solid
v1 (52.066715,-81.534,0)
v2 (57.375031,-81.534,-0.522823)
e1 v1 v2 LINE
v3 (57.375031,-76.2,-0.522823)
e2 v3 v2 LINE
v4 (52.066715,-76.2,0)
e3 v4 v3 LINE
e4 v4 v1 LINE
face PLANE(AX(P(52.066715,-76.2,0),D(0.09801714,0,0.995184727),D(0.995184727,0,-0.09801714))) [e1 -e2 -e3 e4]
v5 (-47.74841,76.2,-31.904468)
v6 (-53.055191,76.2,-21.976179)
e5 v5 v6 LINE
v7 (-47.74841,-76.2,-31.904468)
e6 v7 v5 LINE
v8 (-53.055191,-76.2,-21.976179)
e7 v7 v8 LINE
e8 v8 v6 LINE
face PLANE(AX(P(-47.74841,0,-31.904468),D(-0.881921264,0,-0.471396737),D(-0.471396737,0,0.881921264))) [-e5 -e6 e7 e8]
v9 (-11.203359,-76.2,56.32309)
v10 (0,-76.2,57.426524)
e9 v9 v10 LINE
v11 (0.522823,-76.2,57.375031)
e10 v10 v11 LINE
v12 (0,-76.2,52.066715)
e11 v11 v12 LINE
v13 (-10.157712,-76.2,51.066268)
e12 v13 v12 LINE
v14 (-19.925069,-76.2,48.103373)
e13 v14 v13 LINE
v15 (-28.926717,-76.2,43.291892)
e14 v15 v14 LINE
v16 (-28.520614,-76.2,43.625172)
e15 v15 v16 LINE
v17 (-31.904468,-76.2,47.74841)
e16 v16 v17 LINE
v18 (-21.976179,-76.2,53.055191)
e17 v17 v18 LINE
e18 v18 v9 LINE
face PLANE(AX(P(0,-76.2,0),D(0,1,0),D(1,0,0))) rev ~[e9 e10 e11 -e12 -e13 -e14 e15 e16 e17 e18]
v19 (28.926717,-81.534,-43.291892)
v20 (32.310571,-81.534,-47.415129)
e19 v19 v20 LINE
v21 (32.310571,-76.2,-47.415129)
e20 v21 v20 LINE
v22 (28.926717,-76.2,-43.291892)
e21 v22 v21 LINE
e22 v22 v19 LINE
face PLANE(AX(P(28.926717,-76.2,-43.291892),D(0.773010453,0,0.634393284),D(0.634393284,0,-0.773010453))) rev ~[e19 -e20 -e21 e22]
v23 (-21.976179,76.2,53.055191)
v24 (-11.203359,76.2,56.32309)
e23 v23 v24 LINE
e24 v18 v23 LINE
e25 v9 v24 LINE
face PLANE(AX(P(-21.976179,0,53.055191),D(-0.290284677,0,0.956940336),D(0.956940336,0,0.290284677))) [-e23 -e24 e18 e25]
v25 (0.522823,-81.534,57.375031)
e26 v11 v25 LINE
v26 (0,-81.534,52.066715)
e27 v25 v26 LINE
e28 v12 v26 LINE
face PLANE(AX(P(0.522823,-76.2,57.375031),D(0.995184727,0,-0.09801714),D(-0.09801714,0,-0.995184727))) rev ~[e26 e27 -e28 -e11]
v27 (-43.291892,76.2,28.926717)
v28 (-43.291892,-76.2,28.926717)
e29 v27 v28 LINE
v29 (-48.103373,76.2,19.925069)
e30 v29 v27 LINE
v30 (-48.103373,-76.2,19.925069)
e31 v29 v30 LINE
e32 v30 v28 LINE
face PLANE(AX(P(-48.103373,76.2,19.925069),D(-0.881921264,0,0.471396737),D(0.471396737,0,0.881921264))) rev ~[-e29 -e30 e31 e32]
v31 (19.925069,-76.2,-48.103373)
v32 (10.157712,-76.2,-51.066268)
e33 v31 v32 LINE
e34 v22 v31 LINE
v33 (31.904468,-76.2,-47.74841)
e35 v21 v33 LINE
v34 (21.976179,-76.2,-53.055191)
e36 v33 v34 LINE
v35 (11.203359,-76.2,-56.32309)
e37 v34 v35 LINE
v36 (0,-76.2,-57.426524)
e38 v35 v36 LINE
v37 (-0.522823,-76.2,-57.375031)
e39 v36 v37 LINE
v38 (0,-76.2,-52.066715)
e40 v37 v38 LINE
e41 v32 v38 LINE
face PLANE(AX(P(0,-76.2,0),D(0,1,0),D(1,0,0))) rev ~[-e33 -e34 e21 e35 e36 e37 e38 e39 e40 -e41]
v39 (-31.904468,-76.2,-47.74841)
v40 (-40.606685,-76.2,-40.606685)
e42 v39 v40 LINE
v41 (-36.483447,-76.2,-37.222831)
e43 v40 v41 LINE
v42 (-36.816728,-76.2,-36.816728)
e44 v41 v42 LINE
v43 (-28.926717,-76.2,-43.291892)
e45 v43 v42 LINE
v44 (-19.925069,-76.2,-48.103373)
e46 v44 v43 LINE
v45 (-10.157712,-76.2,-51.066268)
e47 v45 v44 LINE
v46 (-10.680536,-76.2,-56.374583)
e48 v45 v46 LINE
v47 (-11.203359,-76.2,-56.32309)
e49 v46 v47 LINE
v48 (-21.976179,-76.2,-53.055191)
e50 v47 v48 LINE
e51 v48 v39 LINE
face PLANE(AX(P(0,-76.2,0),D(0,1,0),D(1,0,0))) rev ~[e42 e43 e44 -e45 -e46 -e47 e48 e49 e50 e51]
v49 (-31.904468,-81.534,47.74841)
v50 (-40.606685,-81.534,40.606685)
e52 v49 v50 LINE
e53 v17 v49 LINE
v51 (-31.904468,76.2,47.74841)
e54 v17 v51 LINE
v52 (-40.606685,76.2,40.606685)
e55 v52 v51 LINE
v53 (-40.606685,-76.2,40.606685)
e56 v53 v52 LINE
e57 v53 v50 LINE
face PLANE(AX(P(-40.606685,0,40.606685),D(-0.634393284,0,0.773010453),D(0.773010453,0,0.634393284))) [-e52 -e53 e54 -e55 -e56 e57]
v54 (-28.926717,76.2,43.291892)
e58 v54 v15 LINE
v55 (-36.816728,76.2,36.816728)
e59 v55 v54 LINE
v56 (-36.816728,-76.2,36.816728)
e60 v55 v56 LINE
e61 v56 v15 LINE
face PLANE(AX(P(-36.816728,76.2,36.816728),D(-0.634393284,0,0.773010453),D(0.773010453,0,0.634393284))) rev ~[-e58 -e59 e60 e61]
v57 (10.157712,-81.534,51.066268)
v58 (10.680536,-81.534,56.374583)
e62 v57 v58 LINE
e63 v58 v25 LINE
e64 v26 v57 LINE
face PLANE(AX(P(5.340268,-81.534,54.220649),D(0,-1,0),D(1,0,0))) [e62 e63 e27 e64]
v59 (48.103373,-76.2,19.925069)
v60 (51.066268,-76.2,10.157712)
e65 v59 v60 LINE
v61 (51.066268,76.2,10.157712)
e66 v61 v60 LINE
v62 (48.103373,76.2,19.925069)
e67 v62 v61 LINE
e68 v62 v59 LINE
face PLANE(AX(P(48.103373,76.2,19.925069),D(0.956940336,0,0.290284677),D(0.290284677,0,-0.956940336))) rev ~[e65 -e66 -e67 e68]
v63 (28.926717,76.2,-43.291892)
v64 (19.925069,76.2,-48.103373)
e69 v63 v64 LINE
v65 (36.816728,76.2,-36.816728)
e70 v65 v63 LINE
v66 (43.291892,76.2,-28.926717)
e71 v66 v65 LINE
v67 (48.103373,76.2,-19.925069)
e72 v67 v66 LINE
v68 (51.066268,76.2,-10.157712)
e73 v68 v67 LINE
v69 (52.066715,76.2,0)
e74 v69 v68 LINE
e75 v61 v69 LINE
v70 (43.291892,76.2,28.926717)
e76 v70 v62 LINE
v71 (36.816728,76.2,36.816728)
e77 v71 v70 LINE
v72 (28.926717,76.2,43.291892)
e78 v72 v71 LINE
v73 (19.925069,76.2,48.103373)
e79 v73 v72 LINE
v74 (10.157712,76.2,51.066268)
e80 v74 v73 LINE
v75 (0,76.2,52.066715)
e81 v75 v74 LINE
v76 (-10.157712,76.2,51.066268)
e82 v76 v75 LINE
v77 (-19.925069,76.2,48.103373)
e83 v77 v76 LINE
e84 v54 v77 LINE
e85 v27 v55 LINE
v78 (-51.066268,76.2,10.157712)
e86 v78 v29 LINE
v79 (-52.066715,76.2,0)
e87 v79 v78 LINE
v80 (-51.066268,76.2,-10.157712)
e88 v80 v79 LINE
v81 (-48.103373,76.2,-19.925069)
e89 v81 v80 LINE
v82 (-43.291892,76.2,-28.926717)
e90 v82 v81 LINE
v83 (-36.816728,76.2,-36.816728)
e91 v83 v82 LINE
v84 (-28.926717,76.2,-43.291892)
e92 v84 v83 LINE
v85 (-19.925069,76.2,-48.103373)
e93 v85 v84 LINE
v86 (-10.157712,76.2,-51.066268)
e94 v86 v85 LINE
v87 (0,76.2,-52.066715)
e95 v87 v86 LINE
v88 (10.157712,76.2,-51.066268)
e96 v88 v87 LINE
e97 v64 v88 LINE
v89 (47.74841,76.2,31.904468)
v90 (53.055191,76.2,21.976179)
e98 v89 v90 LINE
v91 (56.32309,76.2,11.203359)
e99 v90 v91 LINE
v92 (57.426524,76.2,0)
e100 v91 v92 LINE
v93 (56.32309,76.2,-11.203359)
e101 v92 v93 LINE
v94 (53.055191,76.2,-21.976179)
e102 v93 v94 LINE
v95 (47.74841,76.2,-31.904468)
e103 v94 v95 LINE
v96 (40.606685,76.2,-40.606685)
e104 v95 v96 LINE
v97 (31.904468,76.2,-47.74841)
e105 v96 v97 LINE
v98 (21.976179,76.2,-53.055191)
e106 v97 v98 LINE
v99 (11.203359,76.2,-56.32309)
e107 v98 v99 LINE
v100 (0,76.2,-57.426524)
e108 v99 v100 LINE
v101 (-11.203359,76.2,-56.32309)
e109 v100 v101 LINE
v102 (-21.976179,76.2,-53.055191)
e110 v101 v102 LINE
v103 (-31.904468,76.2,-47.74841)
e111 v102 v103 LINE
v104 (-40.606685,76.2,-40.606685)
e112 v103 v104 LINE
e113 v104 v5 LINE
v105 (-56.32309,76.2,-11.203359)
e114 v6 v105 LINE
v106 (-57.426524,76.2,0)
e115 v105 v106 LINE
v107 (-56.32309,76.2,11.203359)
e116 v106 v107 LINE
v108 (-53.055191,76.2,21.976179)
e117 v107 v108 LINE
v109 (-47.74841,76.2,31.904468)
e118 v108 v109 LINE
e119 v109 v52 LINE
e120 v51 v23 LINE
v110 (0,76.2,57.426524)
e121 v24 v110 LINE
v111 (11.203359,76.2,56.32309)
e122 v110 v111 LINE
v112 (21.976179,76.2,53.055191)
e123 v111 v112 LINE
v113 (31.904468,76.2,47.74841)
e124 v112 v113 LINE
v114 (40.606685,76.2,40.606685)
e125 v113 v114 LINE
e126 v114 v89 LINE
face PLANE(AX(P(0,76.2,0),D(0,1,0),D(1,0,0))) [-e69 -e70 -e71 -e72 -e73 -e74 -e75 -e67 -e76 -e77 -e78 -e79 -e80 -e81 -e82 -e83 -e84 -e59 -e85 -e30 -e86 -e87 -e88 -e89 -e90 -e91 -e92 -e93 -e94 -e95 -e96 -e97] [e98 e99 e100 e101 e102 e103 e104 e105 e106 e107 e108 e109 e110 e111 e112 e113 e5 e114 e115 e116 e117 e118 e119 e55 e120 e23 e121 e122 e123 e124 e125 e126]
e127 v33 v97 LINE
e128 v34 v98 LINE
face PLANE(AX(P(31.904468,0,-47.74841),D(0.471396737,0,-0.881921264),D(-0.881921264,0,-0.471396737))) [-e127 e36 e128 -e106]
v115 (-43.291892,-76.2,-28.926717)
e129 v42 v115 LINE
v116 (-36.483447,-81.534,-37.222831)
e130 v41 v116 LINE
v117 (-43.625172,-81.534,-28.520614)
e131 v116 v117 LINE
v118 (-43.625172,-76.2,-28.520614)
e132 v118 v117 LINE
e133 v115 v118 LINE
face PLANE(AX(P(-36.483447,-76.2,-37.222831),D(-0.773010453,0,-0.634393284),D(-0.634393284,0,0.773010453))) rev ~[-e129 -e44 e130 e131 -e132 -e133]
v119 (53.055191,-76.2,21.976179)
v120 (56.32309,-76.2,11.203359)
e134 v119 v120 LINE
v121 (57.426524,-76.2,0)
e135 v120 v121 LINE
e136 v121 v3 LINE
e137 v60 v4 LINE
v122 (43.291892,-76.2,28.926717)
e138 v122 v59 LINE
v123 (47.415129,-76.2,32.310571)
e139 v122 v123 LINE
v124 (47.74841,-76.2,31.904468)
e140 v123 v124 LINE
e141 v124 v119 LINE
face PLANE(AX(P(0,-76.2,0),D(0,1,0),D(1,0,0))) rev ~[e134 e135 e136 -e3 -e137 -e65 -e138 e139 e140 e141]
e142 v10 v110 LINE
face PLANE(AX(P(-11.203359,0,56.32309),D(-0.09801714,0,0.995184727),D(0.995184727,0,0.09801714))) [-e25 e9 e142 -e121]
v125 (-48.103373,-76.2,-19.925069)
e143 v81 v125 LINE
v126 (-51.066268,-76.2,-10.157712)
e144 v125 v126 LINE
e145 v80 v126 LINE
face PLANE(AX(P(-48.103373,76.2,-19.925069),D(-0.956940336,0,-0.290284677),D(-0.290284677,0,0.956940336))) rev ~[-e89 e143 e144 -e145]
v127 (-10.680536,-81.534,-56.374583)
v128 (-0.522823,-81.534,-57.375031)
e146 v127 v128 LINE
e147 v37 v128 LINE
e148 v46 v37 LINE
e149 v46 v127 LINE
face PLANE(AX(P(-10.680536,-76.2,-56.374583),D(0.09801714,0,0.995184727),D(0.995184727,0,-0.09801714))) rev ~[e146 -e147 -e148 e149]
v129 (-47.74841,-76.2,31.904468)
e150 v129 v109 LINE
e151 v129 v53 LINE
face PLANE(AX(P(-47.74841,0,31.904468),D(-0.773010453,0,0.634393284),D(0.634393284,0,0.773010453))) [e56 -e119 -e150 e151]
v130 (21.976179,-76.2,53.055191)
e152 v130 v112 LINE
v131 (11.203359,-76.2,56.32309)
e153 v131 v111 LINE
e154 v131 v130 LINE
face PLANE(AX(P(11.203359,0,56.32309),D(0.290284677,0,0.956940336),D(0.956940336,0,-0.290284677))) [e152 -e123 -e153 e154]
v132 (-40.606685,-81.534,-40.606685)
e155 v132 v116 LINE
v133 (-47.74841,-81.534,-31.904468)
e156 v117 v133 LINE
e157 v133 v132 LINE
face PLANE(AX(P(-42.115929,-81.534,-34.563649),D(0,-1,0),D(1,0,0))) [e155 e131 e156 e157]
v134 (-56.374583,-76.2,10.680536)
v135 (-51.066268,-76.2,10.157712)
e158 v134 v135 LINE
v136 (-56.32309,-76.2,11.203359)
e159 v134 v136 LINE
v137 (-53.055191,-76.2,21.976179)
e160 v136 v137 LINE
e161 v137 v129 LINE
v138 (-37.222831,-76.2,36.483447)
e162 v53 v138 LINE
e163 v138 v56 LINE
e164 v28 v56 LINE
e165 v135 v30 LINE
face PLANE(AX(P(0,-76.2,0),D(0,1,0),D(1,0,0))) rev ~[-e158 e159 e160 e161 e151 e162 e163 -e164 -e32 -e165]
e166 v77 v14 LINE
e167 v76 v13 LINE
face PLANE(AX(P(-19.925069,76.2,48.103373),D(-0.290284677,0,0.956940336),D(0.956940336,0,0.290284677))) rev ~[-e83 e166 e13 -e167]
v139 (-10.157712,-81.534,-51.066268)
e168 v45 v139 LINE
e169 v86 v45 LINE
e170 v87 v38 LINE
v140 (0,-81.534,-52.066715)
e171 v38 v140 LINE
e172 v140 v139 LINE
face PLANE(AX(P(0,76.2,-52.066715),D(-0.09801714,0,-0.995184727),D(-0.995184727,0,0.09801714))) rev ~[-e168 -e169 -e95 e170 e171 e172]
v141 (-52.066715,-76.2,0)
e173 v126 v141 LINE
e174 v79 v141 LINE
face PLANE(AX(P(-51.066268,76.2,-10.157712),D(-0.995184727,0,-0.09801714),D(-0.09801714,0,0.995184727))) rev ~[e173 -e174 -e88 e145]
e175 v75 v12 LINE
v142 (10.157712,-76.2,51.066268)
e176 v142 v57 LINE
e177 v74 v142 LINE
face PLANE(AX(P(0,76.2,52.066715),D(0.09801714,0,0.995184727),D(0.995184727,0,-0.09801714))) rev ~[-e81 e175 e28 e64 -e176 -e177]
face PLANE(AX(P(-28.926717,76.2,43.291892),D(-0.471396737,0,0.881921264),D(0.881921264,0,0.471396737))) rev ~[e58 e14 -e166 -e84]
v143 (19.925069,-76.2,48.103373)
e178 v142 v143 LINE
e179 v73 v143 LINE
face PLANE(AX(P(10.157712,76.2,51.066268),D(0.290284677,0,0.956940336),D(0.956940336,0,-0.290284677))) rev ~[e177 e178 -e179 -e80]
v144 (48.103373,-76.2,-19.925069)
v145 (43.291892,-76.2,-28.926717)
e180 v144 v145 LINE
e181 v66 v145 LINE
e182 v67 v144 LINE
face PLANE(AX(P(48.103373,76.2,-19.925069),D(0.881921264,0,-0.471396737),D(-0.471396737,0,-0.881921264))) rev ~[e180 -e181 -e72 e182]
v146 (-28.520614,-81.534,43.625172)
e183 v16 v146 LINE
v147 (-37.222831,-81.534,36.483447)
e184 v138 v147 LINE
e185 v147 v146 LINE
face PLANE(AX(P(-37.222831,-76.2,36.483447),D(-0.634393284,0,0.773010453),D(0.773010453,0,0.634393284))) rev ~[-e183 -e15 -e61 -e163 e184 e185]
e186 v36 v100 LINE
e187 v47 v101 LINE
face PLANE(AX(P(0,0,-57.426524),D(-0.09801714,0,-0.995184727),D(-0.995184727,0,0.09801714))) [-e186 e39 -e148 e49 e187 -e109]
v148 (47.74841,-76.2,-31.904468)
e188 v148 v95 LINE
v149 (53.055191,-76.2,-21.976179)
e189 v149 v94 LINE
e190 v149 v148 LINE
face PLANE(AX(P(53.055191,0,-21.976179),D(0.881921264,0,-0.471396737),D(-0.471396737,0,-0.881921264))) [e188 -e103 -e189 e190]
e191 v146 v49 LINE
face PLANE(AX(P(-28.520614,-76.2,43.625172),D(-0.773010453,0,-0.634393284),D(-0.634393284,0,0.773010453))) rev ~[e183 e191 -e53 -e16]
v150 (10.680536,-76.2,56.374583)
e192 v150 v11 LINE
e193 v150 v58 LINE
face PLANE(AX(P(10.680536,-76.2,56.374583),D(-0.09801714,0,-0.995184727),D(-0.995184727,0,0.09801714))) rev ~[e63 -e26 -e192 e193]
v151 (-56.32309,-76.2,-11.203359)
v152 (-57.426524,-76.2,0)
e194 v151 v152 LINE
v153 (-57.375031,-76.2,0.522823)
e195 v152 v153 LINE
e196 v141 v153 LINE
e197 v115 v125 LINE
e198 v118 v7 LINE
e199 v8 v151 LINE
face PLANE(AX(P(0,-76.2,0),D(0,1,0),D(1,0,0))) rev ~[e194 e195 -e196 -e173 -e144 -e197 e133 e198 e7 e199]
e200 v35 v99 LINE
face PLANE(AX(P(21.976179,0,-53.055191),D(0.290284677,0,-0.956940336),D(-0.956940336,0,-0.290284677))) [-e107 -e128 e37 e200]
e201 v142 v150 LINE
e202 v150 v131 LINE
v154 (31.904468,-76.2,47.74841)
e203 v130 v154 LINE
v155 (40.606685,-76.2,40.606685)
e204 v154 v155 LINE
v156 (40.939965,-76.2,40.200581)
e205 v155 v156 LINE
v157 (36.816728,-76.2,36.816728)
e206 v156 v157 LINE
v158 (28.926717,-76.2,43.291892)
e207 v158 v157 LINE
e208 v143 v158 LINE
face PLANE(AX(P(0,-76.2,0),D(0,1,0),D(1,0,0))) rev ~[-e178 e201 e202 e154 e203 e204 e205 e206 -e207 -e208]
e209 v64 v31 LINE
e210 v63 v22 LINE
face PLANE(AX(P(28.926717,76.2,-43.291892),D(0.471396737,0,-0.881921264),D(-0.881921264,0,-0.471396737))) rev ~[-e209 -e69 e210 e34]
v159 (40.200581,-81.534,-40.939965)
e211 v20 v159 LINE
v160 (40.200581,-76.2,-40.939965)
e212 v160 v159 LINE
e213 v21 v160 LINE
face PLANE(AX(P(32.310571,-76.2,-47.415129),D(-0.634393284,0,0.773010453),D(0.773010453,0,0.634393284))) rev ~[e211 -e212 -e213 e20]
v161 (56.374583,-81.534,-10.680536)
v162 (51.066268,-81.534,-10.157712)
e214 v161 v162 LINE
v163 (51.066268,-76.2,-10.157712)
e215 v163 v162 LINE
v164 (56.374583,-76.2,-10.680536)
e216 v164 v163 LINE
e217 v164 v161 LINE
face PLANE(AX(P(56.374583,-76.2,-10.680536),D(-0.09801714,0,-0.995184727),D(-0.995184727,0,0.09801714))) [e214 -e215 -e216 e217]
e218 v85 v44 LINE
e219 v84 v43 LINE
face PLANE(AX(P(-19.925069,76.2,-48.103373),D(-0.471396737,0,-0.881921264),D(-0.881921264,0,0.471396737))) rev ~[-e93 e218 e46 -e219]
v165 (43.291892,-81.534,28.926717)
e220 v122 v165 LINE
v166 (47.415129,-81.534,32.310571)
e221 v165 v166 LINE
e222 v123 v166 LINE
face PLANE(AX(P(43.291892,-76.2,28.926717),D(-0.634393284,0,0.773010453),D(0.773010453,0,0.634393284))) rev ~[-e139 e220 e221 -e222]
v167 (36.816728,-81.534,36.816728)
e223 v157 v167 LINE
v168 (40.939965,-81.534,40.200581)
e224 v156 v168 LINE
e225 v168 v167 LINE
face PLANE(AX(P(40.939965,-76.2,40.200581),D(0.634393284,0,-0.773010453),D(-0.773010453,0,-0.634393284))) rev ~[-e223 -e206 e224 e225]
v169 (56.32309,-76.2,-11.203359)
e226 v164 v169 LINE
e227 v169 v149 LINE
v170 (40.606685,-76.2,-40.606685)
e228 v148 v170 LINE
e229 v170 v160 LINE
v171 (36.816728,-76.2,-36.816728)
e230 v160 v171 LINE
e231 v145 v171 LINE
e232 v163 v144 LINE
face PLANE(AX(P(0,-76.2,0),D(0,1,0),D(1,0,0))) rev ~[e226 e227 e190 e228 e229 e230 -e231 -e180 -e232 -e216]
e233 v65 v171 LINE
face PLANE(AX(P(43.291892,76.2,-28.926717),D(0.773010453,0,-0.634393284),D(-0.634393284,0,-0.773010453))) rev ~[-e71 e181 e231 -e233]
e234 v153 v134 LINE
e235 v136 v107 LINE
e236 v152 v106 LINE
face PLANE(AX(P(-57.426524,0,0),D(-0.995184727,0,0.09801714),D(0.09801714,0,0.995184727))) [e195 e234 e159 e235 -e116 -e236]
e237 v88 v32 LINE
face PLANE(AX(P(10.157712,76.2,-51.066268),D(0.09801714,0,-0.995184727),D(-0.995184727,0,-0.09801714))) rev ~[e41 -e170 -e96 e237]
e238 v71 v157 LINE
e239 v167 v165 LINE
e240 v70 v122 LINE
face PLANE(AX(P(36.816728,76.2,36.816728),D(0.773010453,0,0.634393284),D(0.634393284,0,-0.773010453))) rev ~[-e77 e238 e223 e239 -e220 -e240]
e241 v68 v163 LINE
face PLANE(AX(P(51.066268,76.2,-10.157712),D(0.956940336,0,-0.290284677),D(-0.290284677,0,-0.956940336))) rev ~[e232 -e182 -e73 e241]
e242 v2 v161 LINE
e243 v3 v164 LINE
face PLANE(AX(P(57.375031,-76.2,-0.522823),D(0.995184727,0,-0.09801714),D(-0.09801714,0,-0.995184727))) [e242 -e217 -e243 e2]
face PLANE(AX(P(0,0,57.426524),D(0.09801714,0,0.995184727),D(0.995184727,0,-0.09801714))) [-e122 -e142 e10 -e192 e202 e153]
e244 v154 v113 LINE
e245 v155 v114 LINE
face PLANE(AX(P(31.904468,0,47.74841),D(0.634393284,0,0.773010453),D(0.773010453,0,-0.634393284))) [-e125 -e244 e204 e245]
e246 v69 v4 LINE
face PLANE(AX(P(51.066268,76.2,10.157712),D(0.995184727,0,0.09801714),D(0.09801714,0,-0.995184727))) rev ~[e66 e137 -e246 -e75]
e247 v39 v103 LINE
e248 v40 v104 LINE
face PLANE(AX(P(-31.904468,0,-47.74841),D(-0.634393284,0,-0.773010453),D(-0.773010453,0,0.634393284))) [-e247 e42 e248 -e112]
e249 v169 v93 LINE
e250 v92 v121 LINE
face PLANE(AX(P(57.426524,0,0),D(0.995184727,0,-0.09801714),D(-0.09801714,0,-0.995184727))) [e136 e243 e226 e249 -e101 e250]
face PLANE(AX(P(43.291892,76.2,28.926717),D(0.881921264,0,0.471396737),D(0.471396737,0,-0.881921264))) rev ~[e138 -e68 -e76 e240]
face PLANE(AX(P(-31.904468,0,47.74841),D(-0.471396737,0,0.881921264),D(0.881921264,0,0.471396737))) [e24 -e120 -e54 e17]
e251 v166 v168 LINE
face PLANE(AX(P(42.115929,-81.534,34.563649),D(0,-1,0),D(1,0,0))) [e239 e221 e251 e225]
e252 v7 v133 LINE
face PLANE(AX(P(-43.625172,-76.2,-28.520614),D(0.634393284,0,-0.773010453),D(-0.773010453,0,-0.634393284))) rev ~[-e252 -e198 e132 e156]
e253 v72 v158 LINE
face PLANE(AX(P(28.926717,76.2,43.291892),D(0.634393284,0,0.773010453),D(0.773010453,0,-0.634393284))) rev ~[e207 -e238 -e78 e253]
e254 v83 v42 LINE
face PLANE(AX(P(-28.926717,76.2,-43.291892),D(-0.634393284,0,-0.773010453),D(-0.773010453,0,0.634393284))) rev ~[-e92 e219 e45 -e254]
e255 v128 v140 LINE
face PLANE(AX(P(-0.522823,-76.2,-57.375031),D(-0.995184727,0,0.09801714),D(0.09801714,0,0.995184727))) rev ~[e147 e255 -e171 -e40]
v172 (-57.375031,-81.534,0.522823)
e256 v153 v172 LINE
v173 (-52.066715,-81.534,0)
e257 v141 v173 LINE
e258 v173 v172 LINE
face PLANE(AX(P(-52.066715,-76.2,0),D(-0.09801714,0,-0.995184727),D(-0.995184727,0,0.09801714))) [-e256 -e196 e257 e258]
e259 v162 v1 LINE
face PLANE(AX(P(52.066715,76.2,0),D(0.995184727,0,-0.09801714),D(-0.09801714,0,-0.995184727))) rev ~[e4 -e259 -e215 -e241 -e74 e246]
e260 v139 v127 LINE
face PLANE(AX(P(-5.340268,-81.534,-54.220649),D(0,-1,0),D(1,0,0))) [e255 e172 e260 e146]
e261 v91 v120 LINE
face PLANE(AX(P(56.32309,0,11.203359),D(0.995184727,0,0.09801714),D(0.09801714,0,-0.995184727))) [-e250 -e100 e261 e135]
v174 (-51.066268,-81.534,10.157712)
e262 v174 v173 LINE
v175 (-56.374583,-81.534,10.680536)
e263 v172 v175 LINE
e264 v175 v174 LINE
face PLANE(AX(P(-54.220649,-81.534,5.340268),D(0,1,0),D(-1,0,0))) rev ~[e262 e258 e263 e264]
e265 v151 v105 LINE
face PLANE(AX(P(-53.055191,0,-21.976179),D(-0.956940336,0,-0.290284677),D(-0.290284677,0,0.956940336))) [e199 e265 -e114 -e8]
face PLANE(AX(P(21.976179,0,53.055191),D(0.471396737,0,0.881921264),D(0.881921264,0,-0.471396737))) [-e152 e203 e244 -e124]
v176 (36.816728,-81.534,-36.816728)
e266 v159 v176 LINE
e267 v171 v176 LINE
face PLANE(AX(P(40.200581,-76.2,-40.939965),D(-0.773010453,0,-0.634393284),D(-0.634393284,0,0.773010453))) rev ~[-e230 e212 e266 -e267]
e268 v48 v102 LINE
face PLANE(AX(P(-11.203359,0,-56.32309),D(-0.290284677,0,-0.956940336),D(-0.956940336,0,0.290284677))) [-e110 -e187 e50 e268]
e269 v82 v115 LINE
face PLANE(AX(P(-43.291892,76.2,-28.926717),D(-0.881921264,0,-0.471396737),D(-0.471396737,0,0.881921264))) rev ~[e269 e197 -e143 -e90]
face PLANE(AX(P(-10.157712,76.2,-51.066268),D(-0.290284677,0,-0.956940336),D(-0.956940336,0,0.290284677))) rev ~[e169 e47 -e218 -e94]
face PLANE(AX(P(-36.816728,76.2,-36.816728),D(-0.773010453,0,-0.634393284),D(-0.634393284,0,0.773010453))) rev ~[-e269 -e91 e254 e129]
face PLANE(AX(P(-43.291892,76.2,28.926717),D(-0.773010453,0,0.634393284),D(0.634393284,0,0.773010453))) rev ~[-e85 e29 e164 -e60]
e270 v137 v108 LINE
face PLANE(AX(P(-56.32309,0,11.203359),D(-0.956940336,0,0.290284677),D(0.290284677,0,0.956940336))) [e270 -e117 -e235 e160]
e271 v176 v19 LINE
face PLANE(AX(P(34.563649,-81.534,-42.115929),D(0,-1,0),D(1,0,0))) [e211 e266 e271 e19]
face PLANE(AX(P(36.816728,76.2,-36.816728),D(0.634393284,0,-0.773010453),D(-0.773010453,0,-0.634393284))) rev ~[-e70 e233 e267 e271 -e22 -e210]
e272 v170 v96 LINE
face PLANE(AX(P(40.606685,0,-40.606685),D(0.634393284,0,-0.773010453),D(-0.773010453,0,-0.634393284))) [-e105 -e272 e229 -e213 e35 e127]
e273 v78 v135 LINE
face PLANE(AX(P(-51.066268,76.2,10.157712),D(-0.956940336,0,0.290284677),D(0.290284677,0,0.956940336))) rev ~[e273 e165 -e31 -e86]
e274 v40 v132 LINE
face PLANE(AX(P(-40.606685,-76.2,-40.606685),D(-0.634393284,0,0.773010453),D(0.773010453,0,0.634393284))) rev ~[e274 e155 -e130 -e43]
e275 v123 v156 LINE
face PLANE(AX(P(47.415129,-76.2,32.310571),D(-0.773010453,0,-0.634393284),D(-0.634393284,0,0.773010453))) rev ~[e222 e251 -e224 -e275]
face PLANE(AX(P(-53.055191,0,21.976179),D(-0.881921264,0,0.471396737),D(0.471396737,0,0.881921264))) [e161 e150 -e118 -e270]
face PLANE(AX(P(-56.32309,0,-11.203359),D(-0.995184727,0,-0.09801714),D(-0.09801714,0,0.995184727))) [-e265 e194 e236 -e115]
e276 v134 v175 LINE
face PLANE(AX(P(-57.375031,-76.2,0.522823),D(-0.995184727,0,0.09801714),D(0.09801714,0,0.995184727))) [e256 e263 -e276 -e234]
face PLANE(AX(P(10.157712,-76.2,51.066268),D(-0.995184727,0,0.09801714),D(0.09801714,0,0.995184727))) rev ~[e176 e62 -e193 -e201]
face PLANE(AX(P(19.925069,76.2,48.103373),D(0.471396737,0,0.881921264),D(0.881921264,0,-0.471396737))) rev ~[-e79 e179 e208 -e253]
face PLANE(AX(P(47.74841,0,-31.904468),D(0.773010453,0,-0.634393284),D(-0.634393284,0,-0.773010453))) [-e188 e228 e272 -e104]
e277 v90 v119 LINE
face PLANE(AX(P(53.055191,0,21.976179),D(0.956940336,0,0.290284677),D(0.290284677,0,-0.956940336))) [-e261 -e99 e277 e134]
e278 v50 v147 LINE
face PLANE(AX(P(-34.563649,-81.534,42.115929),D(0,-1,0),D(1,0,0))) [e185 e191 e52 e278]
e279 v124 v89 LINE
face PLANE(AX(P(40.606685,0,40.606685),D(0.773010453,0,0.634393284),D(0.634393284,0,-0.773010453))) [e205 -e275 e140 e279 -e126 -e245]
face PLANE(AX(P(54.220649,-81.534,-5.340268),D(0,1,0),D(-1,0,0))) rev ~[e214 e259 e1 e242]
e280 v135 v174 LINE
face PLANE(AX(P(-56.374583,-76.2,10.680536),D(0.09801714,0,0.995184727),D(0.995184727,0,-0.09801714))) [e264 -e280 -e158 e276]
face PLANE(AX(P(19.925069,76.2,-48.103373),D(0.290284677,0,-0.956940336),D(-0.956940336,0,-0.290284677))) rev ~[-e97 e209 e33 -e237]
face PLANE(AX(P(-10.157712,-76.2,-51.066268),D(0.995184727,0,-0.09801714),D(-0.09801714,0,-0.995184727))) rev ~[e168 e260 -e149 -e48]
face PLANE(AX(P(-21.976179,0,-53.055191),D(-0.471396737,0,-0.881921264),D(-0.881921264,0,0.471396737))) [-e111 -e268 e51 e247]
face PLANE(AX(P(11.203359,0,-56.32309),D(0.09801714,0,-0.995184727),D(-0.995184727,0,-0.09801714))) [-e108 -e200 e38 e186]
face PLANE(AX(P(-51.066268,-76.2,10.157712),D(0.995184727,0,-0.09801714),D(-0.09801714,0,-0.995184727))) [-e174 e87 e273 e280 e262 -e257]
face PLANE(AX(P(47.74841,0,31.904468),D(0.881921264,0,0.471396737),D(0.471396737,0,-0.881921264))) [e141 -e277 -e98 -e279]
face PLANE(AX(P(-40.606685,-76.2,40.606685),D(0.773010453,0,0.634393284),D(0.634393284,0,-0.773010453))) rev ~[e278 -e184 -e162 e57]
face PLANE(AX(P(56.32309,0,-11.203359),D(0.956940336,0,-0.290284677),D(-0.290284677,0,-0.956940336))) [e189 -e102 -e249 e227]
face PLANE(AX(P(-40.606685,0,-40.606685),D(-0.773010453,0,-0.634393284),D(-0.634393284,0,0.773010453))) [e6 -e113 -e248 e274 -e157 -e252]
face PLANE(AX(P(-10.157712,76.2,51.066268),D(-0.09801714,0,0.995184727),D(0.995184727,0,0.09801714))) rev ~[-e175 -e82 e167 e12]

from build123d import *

# Parameters (mm, degrees)
BOSS_EXTRUDE1_DEPTH = 76.2
CUT_EXTRUDE1_DEPTH  = 173.688654555
BOSS_EXTRUDE2_DEPTH = 5.334


with BuildPart() as part:
    # Sketch4 → Boss-Extrude1 (new, symmetric)
    with BuildSketch(Plane(origin=(0, 0, 0), x_dir=(1, 0, 0), z_dir=(0, 1, 0))):
        Polygon((57.426524411, 0), (56.323089847, 11.20335914), (53.055190527, 21.976179471), (47.748409988, 31.904467549), (40.606684831, 40.606684831), (31.904467549, 47.748409988), (21.976179471, 53.055190527), (11.20335914, 56.323089847), (0, 57.426524411), (-11.20335914, 56.323089847), (-21.976179471, 53.055190527), (-31.904467549, 47.748409988), (-40.606684831, 40.606684831), (-47.748409988, 31.904467549), (-53.055190527, 21.976179471), (-56.323089847, 11.20335914), (-57.426524411, 0), (-56.323089847, -11.20335914), (-53.055190527, -21.976179471), (-47.748409988, -31.904467549), (-40.606684831, -40.606684831), (-31.904467549, -47.748409988), (-21.976179471, -53.055190527), (-11.20335914, -56.323089847), (0, -57.426524411), (11.20335914, -56.323089847), (21.976179471, -53.055190527), (31.904467549, -47.748409988), (40.606684831, -40.606684831), (47.748409988, -31.904467549), (53.055190527, -21.976179471), (56.323089847, -11.20335914), align=None)
    extrude(amount=BOSS_EXTRUDE1_DEPTH, both=True)

    # Sketch5 → Cut-Extrude1 (cut, through all)
    with BuildSketch(Plane(origin=(0, 76.2, 0), x_dir=(1, 0, 0), z_dir=(0, 1, 0))):
        Polygon((51.066268128, -10.157712287), (52.066715466, 0), (51.066268128, 10.157712287), (48.103372744, 19.925069387), (43.291891723, 28.926717244), (36.81672758, 36.81672758), (28.926717244, 43.291891723), (19.925069387, 48.103372744), (10.157712287, 51.066268128), (0, 52.066715466), (-10.157712287, 51.066268128), (-19.925069387, 48.103372744), (-28.926717244, 43.291891723), (-36.81672758, 36.81672758), (-43.291891723, 28.926717244), (-48.103372744, 19.925069387), (-51.066268128, 10.157712287), (-52.066715466, 0), (-51.066268128, -10.157712287), (-48.103372744, -19.925069387), (-43.291891723, -28.926717244), (-36.81672758, -36.81672758), (-28.926717244, -43.291891723), (-19.925069387, -48.103372744), (-10.157712287, -51.066268128), (0, -52.066715466), (10.157712287, -51.066268128), (19.925069387, -48.103372744), (28.926717244, -43.291891723), (36.81672758, -36.81672758), (43.291891723, -28.926717244), (48.103372744, -19.925069387), align=None)
    extrude(amount=-CUT_EXTRUDE1_DEPTH, mode=Mode.SUBTRACT)

    # Sketch6 → Boss-Extrude2 (add)
    with BuildSketch(Plane.XZ.offset(76.2)):
        Polygon((-51.066268128, 10.157712287), (-52.066715466, 0), (-57.375030798, 0.522823427), (-56.37458346, 10.680535713), align=None)
        Polygon((57.375030798, -0.522823427), (56.37458346, -10.680535713), (51.066268128, -10.157712287), (52.066715466, 0), align=None)
        Polygon((-47.748409988, -31.904467549), (-40.606684831, -40.606684831), (-36.483447073, -37.222831053), (-43.62517223, -28.520613771), align=None)
        Polygon((36.81672758, -36.81672758), (28.926717244, -43.291891723), (32.310571022, -47.415129481), (40.200581358, -40.939965339), align=None)
        Polygon((47.415129481, 32.310571022), (40.939965339, 40.200581358), (36.81672758, 36.81672758), (43.291891723, 28.926717244), align=None)
        Polygon((-37.222831053, 36.483447073), (-28.520613771, 43.62517223), (-31.904467549, 47.748409988), (-40.606684831, 40.606684831), align=None)
        Polygon((0, 52.066715466), (10.157712287, 51.066268128), (10.680535713, 56.37458346), (0.522823427, 57.375030798), align=None)
        Polygon((-10.680535713, -56.37458346), (-0.522823427, -57.375030798), (0, -52.066715466), (-10.157712287, -51.066268128), align=None)
    extrude(amount=BOSS_EXTRUDE2_DEPTH)


solid = part.part
